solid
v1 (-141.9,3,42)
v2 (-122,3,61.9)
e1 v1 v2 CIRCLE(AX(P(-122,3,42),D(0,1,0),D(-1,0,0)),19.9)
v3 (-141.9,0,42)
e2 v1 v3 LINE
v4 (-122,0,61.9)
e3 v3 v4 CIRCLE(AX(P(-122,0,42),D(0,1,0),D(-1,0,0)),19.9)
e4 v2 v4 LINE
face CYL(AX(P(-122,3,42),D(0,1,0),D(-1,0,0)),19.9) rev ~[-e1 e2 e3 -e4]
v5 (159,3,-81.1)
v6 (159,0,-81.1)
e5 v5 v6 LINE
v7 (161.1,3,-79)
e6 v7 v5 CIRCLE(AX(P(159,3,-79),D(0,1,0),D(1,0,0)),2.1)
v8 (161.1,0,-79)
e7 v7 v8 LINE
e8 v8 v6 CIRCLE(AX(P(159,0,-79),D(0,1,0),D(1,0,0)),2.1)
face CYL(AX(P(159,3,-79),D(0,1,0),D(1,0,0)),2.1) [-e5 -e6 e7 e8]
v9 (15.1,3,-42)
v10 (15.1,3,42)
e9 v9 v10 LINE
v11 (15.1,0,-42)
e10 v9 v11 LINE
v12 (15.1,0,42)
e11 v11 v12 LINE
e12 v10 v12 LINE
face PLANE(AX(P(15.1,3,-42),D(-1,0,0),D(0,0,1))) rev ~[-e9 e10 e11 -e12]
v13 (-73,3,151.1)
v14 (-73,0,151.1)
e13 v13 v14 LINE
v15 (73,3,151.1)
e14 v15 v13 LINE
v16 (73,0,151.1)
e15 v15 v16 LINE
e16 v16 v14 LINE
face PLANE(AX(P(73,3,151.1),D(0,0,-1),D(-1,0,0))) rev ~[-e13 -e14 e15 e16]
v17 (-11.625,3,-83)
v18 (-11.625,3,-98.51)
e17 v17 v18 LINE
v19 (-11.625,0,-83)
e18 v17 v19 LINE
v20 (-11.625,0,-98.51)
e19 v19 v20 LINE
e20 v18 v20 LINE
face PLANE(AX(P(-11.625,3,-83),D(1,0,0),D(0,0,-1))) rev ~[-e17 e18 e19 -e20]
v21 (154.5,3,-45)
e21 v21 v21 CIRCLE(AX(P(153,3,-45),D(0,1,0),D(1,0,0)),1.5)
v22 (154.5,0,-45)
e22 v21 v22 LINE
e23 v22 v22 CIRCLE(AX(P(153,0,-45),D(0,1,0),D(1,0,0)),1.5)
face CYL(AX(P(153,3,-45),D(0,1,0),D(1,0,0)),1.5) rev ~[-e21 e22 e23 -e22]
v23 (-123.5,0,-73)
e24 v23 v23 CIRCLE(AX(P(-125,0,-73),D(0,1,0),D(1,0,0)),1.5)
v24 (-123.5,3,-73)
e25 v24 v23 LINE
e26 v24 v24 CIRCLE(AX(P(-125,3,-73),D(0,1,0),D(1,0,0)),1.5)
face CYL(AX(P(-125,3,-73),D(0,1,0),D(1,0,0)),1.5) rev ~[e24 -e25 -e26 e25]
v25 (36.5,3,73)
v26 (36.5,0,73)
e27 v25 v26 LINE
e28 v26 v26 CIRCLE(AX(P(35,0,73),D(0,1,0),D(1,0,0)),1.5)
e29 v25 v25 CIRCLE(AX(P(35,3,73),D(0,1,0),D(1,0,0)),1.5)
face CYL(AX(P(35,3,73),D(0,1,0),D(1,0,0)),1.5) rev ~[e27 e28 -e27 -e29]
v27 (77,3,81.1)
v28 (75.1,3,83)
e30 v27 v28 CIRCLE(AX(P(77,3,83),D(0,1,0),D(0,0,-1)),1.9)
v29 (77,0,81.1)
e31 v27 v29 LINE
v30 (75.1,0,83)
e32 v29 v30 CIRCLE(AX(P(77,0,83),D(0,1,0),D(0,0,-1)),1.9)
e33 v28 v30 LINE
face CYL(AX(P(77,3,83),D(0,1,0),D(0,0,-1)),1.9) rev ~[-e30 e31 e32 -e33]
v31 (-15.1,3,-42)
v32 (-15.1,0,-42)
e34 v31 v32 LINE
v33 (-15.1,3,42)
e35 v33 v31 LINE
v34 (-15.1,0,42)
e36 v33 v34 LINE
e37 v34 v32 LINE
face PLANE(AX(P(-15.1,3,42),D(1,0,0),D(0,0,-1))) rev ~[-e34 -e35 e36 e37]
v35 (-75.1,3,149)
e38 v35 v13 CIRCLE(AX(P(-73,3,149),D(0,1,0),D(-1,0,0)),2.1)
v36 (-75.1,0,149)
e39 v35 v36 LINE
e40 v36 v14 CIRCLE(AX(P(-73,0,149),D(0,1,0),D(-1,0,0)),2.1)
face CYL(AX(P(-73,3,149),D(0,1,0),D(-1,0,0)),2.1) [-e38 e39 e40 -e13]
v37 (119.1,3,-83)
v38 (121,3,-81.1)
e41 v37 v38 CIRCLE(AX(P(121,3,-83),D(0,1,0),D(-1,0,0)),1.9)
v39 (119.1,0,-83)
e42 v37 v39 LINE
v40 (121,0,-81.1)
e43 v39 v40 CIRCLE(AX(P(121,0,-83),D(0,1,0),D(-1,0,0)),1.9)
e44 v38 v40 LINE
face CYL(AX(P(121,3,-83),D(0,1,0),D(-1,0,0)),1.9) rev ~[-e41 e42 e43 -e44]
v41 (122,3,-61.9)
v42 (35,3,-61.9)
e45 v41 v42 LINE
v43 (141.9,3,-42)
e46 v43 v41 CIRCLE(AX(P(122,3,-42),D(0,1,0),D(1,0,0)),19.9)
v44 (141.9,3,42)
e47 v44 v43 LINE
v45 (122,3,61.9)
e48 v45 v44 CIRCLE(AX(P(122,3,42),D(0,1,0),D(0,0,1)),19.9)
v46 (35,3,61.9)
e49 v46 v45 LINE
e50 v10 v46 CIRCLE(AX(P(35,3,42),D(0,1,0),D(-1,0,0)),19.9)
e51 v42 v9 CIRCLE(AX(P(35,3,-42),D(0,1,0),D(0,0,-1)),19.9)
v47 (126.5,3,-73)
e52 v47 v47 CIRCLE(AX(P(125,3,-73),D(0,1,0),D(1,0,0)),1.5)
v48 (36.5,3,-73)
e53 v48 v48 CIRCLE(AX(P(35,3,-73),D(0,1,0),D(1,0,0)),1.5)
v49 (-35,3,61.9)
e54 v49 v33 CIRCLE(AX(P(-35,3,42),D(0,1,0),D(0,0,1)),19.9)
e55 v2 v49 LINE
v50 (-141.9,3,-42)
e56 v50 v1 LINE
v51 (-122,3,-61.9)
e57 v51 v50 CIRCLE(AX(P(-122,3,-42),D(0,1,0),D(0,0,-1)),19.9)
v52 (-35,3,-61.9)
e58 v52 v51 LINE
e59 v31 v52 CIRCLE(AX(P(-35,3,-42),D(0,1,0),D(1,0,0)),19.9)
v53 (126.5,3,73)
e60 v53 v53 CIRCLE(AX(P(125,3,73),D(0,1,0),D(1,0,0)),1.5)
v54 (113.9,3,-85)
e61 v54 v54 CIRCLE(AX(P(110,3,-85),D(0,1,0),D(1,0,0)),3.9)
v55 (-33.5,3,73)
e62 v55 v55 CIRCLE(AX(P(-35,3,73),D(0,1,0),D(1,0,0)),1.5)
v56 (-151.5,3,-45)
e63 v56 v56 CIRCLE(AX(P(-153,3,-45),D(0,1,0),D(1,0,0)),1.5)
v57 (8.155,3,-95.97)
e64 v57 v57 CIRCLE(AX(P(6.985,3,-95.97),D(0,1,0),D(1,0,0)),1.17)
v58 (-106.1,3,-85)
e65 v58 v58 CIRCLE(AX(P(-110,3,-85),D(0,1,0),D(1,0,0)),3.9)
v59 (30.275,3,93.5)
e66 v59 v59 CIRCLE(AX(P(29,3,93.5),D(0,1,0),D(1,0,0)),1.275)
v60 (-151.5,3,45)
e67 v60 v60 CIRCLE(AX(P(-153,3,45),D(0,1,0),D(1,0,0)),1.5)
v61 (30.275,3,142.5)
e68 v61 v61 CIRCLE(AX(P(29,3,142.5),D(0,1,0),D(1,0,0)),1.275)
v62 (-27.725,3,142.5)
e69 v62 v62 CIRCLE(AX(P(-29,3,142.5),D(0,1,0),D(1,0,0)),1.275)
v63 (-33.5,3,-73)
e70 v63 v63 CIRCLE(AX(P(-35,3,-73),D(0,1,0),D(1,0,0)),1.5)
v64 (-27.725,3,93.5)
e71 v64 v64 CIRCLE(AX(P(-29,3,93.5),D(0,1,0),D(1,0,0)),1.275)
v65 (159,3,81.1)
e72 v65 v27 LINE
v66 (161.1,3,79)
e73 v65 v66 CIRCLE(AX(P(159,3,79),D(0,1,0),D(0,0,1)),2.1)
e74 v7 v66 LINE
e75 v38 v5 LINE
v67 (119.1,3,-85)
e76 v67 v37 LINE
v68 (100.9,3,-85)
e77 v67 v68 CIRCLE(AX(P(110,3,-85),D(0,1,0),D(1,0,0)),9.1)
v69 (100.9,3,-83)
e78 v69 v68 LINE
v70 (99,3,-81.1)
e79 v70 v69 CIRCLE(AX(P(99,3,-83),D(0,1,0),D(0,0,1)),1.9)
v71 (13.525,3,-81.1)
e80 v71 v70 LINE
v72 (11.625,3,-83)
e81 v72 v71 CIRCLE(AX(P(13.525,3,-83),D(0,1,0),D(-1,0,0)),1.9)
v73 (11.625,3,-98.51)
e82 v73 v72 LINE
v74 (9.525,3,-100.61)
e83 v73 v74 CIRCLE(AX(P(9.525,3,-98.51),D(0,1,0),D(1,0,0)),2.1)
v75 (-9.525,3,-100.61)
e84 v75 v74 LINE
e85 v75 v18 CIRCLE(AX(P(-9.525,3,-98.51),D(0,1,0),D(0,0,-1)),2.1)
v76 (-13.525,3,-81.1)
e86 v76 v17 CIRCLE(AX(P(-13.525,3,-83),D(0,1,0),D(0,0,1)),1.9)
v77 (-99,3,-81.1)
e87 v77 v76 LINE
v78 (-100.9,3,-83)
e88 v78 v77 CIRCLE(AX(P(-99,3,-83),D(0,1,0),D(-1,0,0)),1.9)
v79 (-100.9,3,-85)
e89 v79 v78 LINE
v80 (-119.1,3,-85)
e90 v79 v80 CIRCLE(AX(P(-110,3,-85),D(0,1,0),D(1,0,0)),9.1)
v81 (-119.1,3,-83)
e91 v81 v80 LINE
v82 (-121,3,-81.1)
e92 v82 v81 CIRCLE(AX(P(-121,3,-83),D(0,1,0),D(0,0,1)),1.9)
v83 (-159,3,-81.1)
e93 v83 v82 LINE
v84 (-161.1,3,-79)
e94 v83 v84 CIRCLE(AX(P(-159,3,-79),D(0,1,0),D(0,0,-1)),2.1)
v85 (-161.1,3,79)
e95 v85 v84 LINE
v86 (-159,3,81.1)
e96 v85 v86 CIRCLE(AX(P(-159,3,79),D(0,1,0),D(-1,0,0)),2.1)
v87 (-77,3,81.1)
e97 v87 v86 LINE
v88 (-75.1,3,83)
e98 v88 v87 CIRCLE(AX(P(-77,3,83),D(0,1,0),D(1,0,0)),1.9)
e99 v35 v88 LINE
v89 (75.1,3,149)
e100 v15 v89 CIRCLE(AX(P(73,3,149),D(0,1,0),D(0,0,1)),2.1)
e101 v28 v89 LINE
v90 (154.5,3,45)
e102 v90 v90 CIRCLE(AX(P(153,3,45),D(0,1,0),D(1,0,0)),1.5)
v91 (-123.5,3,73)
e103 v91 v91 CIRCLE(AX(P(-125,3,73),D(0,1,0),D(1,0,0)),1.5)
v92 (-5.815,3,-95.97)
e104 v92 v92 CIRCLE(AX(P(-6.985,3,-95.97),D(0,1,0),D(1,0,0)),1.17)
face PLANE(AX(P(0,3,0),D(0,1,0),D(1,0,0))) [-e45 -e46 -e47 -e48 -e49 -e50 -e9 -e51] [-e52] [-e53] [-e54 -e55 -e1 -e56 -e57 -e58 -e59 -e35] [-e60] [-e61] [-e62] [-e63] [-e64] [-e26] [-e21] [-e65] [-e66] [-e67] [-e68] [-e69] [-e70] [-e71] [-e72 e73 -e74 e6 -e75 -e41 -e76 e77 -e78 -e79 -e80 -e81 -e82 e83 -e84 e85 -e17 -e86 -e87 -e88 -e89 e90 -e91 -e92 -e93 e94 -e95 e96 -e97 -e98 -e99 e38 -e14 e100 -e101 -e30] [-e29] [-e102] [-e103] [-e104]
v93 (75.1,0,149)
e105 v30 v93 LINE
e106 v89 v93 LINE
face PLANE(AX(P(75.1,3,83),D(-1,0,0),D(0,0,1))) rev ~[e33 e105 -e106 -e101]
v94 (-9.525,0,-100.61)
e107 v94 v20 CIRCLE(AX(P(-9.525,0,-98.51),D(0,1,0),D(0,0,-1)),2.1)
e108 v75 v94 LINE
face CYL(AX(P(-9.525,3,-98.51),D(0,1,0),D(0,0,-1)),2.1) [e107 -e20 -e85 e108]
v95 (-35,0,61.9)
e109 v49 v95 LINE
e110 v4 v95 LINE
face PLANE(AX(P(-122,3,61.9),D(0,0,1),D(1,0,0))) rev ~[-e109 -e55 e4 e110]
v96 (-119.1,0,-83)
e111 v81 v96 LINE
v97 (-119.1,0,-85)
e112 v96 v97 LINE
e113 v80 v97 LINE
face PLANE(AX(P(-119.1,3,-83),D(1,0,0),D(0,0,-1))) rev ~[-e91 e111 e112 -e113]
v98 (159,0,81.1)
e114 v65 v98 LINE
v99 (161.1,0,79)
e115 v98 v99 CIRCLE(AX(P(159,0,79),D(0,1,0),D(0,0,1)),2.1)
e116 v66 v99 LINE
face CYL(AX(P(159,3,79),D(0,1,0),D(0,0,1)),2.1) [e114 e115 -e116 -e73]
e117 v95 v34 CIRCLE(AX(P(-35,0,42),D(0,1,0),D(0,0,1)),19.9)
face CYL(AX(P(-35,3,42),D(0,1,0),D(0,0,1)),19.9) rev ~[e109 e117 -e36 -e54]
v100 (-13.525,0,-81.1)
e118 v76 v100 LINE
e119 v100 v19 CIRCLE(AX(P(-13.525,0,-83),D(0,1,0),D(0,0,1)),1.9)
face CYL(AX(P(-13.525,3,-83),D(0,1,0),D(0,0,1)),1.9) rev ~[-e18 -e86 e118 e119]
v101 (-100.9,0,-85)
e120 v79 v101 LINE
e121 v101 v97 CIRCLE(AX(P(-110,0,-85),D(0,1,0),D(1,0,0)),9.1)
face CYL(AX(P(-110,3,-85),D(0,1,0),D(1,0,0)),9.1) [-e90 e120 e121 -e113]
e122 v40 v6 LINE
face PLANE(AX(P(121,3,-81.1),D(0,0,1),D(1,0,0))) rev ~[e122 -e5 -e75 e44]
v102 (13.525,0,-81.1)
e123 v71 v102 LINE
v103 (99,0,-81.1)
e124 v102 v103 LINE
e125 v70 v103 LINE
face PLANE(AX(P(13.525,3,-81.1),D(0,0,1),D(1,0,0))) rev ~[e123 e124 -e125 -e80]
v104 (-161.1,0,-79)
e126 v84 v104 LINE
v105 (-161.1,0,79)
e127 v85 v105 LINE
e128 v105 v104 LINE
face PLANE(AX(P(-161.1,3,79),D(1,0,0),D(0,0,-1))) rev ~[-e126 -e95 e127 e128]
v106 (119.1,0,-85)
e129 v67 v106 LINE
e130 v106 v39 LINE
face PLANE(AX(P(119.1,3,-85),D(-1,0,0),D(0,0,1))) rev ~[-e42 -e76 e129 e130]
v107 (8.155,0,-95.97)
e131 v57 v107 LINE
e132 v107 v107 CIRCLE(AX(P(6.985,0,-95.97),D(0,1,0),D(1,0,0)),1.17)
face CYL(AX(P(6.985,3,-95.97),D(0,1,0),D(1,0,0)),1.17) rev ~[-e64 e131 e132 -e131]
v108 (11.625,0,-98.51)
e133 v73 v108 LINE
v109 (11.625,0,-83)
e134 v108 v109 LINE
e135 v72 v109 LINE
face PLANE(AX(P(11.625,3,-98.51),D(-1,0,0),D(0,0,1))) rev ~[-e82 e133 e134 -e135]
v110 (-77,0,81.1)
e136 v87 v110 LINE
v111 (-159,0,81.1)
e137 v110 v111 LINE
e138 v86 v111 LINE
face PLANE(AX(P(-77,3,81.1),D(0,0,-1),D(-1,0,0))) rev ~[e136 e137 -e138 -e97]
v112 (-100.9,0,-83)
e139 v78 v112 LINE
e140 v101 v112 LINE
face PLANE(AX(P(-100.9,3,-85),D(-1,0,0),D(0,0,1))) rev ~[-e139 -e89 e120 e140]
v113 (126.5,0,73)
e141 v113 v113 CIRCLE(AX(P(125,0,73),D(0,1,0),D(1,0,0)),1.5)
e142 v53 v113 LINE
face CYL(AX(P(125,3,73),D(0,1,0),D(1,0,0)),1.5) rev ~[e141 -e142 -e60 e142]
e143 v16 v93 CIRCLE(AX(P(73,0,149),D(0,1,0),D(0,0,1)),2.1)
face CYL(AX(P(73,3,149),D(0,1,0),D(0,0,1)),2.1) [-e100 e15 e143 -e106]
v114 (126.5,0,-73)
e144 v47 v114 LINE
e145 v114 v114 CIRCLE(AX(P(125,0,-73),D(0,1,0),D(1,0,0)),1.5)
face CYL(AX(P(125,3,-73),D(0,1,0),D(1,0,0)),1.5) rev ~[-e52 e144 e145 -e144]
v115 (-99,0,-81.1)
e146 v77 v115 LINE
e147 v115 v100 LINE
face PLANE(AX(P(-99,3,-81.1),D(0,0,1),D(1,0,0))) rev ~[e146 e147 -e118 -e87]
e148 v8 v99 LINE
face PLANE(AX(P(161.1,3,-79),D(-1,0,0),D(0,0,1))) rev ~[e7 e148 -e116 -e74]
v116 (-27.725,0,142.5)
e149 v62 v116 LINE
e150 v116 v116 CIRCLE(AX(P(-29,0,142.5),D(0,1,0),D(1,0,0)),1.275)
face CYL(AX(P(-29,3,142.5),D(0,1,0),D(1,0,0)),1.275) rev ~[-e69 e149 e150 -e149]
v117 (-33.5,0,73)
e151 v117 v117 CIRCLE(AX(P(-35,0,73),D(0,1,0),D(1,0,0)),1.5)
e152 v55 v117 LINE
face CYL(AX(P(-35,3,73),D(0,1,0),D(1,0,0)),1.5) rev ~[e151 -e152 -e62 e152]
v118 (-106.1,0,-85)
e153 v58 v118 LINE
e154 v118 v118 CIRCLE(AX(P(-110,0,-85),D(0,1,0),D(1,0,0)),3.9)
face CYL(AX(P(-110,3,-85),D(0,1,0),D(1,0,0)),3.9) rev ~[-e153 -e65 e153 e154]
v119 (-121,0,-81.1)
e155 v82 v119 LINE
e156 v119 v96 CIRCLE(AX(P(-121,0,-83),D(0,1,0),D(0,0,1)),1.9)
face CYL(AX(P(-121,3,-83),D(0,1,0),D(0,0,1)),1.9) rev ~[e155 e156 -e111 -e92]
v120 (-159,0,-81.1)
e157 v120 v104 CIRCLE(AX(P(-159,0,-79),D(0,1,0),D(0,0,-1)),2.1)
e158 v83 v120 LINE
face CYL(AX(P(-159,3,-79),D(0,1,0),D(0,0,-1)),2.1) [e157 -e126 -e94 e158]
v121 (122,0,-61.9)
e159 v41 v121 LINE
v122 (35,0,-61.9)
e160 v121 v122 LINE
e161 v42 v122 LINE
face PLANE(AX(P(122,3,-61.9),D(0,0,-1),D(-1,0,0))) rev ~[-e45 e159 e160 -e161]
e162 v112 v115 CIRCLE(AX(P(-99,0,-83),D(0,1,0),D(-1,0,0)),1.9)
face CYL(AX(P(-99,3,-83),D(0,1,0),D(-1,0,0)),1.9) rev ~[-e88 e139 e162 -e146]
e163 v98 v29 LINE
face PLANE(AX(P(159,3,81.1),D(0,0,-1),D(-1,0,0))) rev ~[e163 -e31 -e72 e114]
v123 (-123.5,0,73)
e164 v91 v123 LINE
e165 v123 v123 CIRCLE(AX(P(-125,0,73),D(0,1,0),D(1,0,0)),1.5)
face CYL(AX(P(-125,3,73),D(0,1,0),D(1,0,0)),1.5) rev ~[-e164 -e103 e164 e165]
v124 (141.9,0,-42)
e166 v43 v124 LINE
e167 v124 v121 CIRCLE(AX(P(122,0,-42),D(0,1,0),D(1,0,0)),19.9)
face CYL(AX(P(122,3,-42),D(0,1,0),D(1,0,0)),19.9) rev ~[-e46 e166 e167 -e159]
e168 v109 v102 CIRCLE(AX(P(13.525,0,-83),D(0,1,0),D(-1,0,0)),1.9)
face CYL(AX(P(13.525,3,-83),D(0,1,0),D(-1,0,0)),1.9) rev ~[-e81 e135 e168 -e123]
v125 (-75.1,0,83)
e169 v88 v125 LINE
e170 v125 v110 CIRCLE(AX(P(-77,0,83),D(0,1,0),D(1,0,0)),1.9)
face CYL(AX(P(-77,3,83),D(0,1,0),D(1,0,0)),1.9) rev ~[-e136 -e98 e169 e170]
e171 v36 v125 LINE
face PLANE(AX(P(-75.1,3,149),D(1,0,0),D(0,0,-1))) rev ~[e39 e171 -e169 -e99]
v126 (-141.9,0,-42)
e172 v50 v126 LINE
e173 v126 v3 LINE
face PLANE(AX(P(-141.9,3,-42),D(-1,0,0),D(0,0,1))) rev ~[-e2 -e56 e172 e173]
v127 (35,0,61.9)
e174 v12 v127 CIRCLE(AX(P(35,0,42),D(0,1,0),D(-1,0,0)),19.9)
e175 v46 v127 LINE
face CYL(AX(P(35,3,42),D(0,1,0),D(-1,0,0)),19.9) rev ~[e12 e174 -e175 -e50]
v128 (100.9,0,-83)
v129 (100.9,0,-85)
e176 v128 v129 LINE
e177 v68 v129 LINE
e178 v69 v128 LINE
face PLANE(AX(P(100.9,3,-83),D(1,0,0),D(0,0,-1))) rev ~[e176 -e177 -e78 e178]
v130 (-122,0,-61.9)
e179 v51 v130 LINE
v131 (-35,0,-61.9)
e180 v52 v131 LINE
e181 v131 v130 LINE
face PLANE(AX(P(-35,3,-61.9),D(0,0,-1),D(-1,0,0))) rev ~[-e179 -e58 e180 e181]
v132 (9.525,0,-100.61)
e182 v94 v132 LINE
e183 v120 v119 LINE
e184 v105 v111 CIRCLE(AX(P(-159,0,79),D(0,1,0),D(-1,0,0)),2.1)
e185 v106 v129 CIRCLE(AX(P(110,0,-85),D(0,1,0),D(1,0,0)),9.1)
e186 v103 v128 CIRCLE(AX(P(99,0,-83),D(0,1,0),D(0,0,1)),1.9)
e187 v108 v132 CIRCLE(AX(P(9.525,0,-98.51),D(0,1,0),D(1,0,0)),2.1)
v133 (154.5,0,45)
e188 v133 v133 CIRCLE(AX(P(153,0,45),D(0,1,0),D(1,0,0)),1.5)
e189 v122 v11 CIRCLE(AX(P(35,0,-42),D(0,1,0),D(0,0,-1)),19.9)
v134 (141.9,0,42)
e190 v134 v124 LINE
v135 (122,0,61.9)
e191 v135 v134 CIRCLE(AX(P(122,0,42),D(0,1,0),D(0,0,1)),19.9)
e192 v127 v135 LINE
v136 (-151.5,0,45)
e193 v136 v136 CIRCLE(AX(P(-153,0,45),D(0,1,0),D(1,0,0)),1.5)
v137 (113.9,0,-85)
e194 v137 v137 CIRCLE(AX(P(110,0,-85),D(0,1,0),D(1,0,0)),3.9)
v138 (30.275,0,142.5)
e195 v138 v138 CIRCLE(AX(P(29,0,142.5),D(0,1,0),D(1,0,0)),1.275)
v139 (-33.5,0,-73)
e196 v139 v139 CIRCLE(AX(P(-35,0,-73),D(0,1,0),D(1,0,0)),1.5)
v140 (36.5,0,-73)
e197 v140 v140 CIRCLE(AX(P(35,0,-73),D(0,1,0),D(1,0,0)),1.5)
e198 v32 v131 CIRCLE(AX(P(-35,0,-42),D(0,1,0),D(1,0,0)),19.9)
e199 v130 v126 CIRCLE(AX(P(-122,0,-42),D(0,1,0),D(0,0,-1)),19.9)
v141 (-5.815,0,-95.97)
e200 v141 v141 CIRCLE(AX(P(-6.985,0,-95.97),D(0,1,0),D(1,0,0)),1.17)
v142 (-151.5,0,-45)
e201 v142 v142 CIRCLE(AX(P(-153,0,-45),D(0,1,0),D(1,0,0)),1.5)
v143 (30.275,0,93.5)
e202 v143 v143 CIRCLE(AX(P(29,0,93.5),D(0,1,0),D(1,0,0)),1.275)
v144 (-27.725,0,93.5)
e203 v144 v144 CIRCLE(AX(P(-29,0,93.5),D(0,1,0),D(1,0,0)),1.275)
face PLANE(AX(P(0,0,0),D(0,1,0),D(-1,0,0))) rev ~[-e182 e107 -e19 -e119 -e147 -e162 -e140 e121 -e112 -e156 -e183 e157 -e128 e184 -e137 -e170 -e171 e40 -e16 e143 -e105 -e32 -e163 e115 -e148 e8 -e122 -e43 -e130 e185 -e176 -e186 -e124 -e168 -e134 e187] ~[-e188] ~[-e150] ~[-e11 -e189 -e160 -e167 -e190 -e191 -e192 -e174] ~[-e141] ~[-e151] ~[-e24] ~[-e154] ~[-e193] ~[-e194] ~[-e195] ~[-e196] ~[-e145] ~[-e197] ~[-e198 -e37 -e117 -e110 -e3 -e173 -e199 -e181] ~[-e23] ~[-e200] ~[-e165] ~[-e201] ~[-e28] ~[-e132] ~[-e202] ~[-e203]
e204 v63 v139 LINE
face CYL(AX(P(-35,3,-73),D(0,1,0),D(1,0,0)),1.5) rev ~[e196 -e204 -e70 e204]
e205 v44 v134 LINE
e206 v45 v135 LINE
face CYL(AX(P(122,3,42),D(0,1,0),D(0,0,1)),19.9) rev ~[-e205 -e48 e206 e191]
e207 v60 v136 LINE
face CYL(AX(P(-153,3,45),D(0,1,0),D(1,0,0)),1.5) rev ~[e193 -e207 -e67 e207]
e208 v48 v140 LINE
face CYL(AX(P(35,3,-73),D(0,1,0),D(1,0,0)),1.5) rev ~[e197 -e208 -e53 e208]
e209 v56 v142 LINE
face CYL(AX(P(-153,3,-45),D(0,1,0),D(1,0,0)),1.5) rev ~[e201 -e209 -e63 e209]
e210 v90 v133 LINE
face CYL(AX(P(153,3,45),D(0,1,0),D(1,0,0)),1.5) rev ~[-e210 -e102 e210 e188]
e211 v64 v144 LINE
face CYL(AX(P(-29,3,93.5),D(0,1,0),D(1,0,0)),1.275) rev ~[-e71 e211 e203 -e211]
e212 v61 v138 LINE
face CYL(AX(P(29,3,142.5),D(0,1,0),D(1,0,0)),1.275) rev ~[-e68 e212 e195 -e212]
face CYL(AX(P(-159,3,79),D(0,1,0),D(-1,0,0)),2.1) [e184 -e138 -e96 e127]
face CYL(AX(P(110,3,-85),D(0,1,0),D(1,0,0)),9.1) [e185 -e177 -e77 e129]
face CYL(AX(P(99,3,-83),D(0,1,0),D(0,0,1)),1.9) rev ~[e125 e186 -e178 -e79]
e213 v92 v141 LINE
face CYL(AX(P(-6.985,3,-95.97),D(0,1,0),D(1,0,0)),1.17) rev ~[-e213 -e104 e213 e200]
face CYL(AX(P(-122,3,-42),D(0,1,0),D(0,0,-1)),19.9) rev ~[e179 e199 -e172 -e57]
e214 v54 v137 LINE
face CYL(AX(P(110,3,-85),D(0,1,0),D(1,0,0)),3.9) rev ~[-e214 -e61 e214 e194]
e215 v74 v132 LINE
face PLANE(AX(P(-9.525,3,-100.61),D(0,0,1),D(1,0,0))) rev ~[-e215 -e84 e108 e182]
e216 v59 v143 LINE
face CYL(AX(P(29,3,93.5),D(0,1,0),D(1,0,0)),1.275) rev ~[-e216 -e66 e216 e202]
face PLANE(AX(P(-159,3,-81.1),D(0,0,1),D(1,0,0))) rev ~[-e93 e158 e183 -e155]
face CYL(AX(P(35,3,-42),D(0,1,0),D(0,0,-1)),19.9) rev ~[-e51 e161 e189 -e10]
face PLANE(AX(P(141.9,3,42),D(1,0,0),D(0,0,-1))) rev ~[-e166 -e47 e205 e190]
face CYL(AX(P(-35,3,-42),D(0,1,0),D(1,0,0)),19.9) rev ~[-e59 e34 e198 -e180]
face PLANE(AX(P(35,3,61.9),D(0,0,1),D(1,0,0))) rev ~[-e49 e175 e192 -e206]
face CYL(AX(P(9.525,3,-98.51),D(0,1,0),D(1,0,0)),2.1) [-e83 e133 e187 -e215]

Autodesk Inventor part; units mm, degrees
ref_plane "YZ Plane" through (0, 0, 0) normal (1, 0, 0) x (0, 1, 0)
ref_plane "XZ Plane" through (0, 0, 0) normal (0, 1, 0) x (-1, 0, 0)
ref_plane "XY Plane" through (0, 0, 0) normal (0, 0, 1) x (1, 0, 0)
sketch "Sketch1" plane through (0, 0, 0) normal (0, 1, 0) x (-1, 0, 0)
  line L0 (159, -79) -> (-159, -79) construction
  line L1 (-159, -79) -> (-159, 79) construction
  line L2 (-159, 79) -> (159, 79) construction
  line L3 (159, 79) -> (159, -79) construction
  line L4 (153, -73) -> (-153, -73) construction
  line L5 (-153, -73) -> (-153, 73) construction
  line L6 (-153, 73) -> (153, 73) construction
  line L7 (153, 73) -> (153, -73) construction
  circle A0 centre (153, -45) radius 1.6
  circle A1 centre (153, 45) radius 1.6
  circle A2 centre (125, -73) radius 1.6
  circle A3 centre (35, -73) radius 1.6
  circle A4 centre (-35, -73) radius 1.6
  circle A5 centre (-125, -73) radius 1.6
  circle A6 centre (-153, -45) radius 1.6
  circle A7 centre (-153, 45) radius 1.6
  circle A8 centre (125, 73) radius 1.6
  circle A9 centre (35, 73) radius 1.6
  circle A10 centre (-35, 73) radius 1.6
  circle A11 centre (-125, 73) radius 1.6
  line L8 (52.5, 90) -> (-32.5, 90) construction
  line L9 (-32.5, 90) -> (-32.5, 146) construction
  line L10 (-32.5, 146) -> (52.5, 146) construction
  line L11 (52.5, 146) -> (52.5, 90) construction
  circle A12 centre (29, 93.5) radius 1.375
  circle A13 centre (-29, 93.5) radius 1.375
  circle A14 centre (-29, 142.5) radius 1.375
  circle A15 centre (29, 142.5) radius 1.375
  line L12 (104.3189, 118) -> (-116.6862, 118) construction
  circle A16 centre (110, -85) radius 4
  circle A17 centre (-110, -85) radius 4
  arc A18 (101, -85) -> (119, -85) centre (110, -85) ccw
  arc A19 (-119, -85) -> (-101, -85) centre (-110, -85) ccw
  line L13 (99, -81) -> (13.525, -81)
  line L14 (101, -83) -> (101, -85)
  line L15 (-101, -83) -> (-101, -85)
  line L16 (159, -81) -> (121, -81)
  line L17 (119, -83) -> (119, -85)
  line L18 (-159, -81) -> (-121, -81)
  line L19 (-119, -83) -> (-119, -85)
  line L20 (161, -79) -> (161, 79)
  line L21 (159, 81) -> (77, 81)
  line L22 (75, 83) -> (75, 149)
  line L23 (73, 151) -> (-73, 151)
  line L24 (-75, 149) -> (-75, 83)
  line L25 (-77, 81) -> (-159, 81)
  line L26 (-161, 79) -> (-161, -79)
  arc A20 (121, -81) -> (119, -83) centre (121, -83) ccw
  arc A21 (159, -81) -> (161, -79) centre (159, -79) ccw
  arc A22 (161, 79) -> (159, 81) centre (159, 79) ccw
  arc A23 (75, 83) -> (77, 81) centre (77, 83) ccw
  arc A24 (75, 149) -> (73, 151) centre (73, 149) ccw
  arc A25 (-73, 151) -> (-75, 149) centre (-73, 149) ccw
  arc A26 (-77, 81) -> (-75, 83) centre (-77, 83) ccw
  arc A27 (-159, 81) -> (-161, 79) centre (-159, 79) ccw
  arc A28 (-161, -79) -> (-159, -81) centre (-159, -79) ccw
  arc A29 (-119, -83) -> (-121, -81) centre (-121, -83) ccw
  arc A30 (-99, -81) -> (-101, -83) centre (-99, -83) ccw
  arc A31 (101, -83) -> (99, -81) centre (99, -83) ccw
  line L27 (122, -62) -> (35, -62)
  line L28 (15, -42) -> (15, 42)
  line L29 (35, 62) -> (122, 62)
  line L30 (142, 42) -> (142, -42)
  line L31 (-35, -62) -> (-122, -62)
  line L32 (-142, -42) -> (-142, 42)
  line L33 (-122, 62) -> (-35, 62)
  line L34 (-15, 42) -> (-15, -42)
  arc A32 (122, -62) -> (142, -42) centre (122, -42) ccw
  arc A33 (142, 42) -> (122, 62) centre (122, 42) ccw
  arc A34 (35, 62) -> (15, 42) centre (35, 42) ccw
  arc A35 (15, -42) -> (35, -62) centre (35, -42) ccw
  arc A36 (-35, -62) -> (-15, -42) centre (-35, -42) ccw
  arc A37 (-142, -42) -> (-122, -62) centre (-122, -42) ccw
  arc A38 (-122, 62) -> (-142, 42) centre (-122, 42) ccw
  arc A39 (-15, 42) -> (-35, 62) centre (-35, 42) ccw
  line L35 (11.525, -83) -> (11.525, -98.51)
  line L36 (9.525, -100.51) -> (-9.525, -100.51)
  line L37 (-11.525, -98.51) -> (-11.525, -83)
  line L38 (-13.525, -81) -> (-99, -81)
  line L39 (9.525, -98.51) -> (-9.525, -98.51) construction
  line L40 (-9.525, -98.51) -> (-9.525, -82) construction
  line L41 (-9.525, -82) -> (9.525, -82) construction
  line L42 (9.525, -82) -> (9.525, -98.51) construction
  circle A40 centre (6.985, -95.97) radius 1.27
  circle A41 centre (-6.985, -95.97) radius 1.27
  line L43 (6.985, -95.97) -> (-6.985, -95.97) construction
  arc A42 (13.525, -81) -> (11.525, -83) centre (13.525, -83) ccw
  arc A43 (9.525, -100.51) -> (11.525, -98.51) centre (9.525, -98.51) ccw
  arc A44 (-11.525, -98.51) -> (-9.525, -100.51) centre (-9.525, -98.51) ccw
  arc A45 (-11.525, -83) -> (-13.525, -81) centre (-13.525, -83) ccw
  point P0 (0, 0)
  point P1 (0, -79)
  point P2 (159, 0)
  point P3 (0, -73)
  point P4 (153, 0)
  point P5 (52.5, 118)
  point P6 (75, 151)
  point P7 (-75, 151)
  point P8 (0, 151)
  point P9 (0, -82)
  point P10 (0, -100.51)
  point P11 (0, -95.97)
  dimension "d0" = 318
  dimension "d1" = 158
  dimension "d2" = 6
  dimension "d3" = 6
  dimension "d4" = 70
  dimension "d5" = 35
  dimension "d6" = 90
  dimension "d7" = 90
  dimension "d8" = 90
  dimension "d9" = 45
  dimension "d10" = 3.2
  dimension "d11" = 85
  dimension "d12" = 56
  dimension "d13" = 3.5
  dimension "d14" = 2.75
  dimension "d15" = 3.5
  dimension "d16" = 58
  dimension "d17" = 49
  dimension "d18" = 118
  dimension "d19" = 220
  dimension "d20" = 110
  dimension "d21" = 8
  dimension "d22" = 85
  dimension "d23" = 18
  dimension "d24" = 2
  dimension "d25" = 2
  dimension "d26" = 2
  dimension "d27" = 2
  dimension "d28" = 150
  dimension "d29" = 5
  dimension "d30" = 2
  dimension "d31" = 11
  dimension "d32" = 11
  dimension "d33" = 11
  dimension "d34" = 11
  dimension "d35" = 30
  dimension "d36" = 15
  dimension "d37" = 20
  dimension "d40" = 29
  dimension "d65" = 19.05
  dimension "d66" = 16.51
  dimension "d67" = 2.54
  dimension "d68" = 2
  dimension "d69" = 2
  dimension "d70" = 2
  dimension "d71" = 2.54
  dimension "d73" = 13.97
  dimension "d74" = 3
extrude "Extrusion1" add sketch "Sketch1" along normal blind 3
sketch "Sketch3" plane through (0, 3, 0) normal (0, 1, 0) x (1, 0, 0)
  arc A0 (142, 42) -> (122, 62) centre (122, 42) ccw projected
  line L0 (142, 42) -> (142, -42) projected
  arc A1 (122, -62) -> (142, -42) centre (122, -42) ccw projected
  line L1 (122, -62) -> (35, -62) projected
  arc A2 (15, -42) -> (35, -62) centre (35, -42) ccw projected
  line L2 (15, -42) -> (15, 42) projected
  arc A3 (35, 62) -> (15, 42) centre (35, 42) ccw projected
  line L3 (35, 62) -> (122, 62) projected
  arc A4 (-122, 62) -> (-142, 42) centre (-122, 42) ccw projected
  line L4 (-122, 62) -> (-35, 62) projected
  arc A5 (-15, 42) -> (-35, 62) centre (-35, 42) ccw projected
  line L5 (-15, 42) -> (-15, -42) projected
  arc A6 (-35, -62) -> (-15, -42) centre (-35, -42) ccw projected
  line L6 (-35, -62) -> (-122, -62) projected
  arc A7 (-142, -42) -> (-122, -62) centre (-122, -42) ccw projected
  line L7 (-142, -42) -> (-142, 42) projected
  circle A8 centre (110, 85) radius 4 projected
  circle A9 centre (-110, 85) radius 4 projected
  circle A10 centre (125, -73) radius 1.6 projected
  circle A11 centre (35, -73) radius 1.6 projected
  circle A12 centre (-35, -73) radius 1.6 projected
  circle A13 centre (-125, -73) radius 1.6 projected
  circle A14 centre (153, -45) radius 1.6 projected
  circle A15 centre (153, 45) radius 1.6 projected
  circle A16 centre (125, 73) radius 1.6 projected
  circle A17 centre (35, 73) radius 1.6 projected
  circle A18 centre (-35, 73) radius 1.6 projected
  circle A19 centre (-125, 73) radius 1.6 projected
  circle A20 centre (-153, -45) radius 1.6 projected
  circle A21 centre (-153, 45) radius 1.6 projected
  circle A22 centre (-29, -142.5) radius 1.375 projected
  circle A23 centre (29, -142.5) radius 1.375 projected
  circle A24 centre (29, -93.5) radius 1.375 projected
  circle A25 centre (-29, -93.5) radius 1.375 projected
  line L8 (-101, 83) -> (-101, 85) projected
  arc A26 (-101, 85) -> (-119, 85) centre (-110, 85) ccw projected
  line L9 (-119, 85) -> (-119, 83) projected
  arc A27 (-121, 81) -> (-119, 83) centre (-121, 83) ccw projected
  line L10 (-121, 81) -> (-159, 81) projected
  arc A28 (-159, 81) -> (-161, 79) centre (-159, 79) ccw projected
  line L11 (-161, 79) -> (-161, -79) projected
  arc A29 (-161, -79) -> (-159, -81) centre (-159, -79) ccw projected
  line L12 (-159, -81) -> (-77, -81) projected
  arc A30 (-75, -83) -> (-77, -81) centre (-77, -83) ccw projected
  line L13 (-75, -83) -> (-75, -149) projected
  arc A31 (-75, -149) -> (-73, -151) centre (-73, -149) ccw projected
  line L14 (-73, -151) -> (73, -151) projected
  arc A32 (73, -151) -> (75, -149) centre (73, -149) ccw projected
  line L15 (75, -149) -> (75, -83) projected
  arc A33 (77, -81) -> (75, -83) centre (77, -83) ccw projected
  line L16 (77, -81) -> (159, -81) projected
  arc A34 (159, -81) -> (161, -79) centre (159, -79) ccw projected
  line L17 (161, -79) -> (161, 79) projected
  arc A35 (161, 79) -> (159, 81) centre (159, 79) ccw projected
  line L18 (159, 81) -> (121, 81) projected
  arc A36 (119, 83) -> (121, 81) centre (121, 83) ccw projected
  line L19 (119, 83) -> (119, 85) projected
  arc A37 (119, 85) -> (101, 85) centre (110, 85) ccw projected
  line L20 (101, 85) -> (101, 83) projected
  arc A38 (99, 81) -> (101, 83) centre (99, 83) ccw projected
  line L21 (99, 81) -> (13.525, 81) projected
  arc A39 (11.525, 83) -> (13.525, 81) centre (13.525, 83) ccw projected
  line L22 (11.525, 83) -> (11.525, 98.51) projected
  arc A40 (11.525, 98.51) -> (9.525, 100.51) centre (9.525, 98.51) ccw projected
  line L23 (9.525, 100.51) -> (-9.525, 100.51) projected
  arc A41 (-9.525, 100.51) -> (-11.525, 98.51) centre (-9.525, 98.51) ccw projected
  line L24 (-11.525, 98.51) -> (-11.525, 83) projected
  arc A42 (-13.525, 81) -> (-11.525, 83) centre (-13.525, 83) ccw projected
  line L25 (-13.525, 81) -> (-99, 81) projected
  arc A43 (-101, 83) -> (-99, 81) centre (-99, 83) ccw projected
  line L26 (-159, 81.1) -> (-121, 81.1)
  arc A44 (-121, 81.1) -> (-119.1, 83) centre (-121, 83) ccw
  line L27 (-119.1, 83) -> (-119.1, 85)
  arc A45 (-100.9, 85) -> (-119.1, 85) centre (-110, 85) ccw
  line L28 (-100.9, 85) -> (-100.9, 83)
  arc A46 (-100.9, 83) -> (-99, 81.1) centre (-99, 83) ccw
  line L29 (-99, 81.1) -> (-13.525, 81.1)
  arc A47 (-13.525, 81.1) -> (-11.625, 83) centre (-13.525, 83) ccw
  line L30 (-11.625, 83) -> (-11.625, 98.51)
  arc A48 (-9.525, 100.61) -> (-11.625, 98.51) centre (-9.525, 98.51) ccw
  line L31 (-9.525, 100.61) -> (9.525, 100.61)
  arc A49 (11.625, 98.51) -> (9.525, 100.61) centre (9.525, 98.51) ccw
  line L32 (11.625, 98.51) -> (11.625, 83)
  arc A50 (11.625, 83) -> (13.525, 81.1) centre (13.525, 83) ccw
  line L33 (13.525, 81.1) -> (99, 81.1)
  arc A51 (99, 81.1) -> (100.9, 83) centre (99, 83) ccw
  line L34 (100.9, 83) -> (100.9, 85)
  arc A52 (119.1, 85) -> (100.9, 85) centre (110, 85) ccw
  line L35 (119.1, 85) -> (119.1, 83)
  arc A53 (119.1, 83) -> (121, 81.1) centre (121, 83) ccw
  line L36 (121, 81.1) -> (159, 81.1)
  arc A54 (161.1, 79) -> (159, 81.1) centre (159, 79) ccw
  line L37 (161.1, 79) -> (161.1, -79)
  arc A55 (159, -81.1) -> (161.1, -79) centre (159, -79) ccw
  line L38 (159, -81.1) -> (77, -81.1)
  arc A56 (77, -81.1) -> (75.1, -83) centre (77, -83) ccw
  line L39 (75.1, -83) -> (75.1, -149)
  arc A57 (73, -151.1) -> (75.1, -149) centre (73, -149) ccw
  line L40 (73, -151.1) -> (-73, -151.1)
  arc A58 (-75.1, -149) -> (-73, -151.1) centre (-73, -149) ccw
  line L41 (-75.1, -149) -> (-75.1, -83)
  arc A59 (-75.1, -83) -> (-77, -81.1) centre (-77, -83) ccw
  line L42 (-77, -81.1) -> (-159, -81.1)
  arc A60 (-161.1, -79) -> (-159, -81.1) centre (-159, -79) ccw
  line L43 (-161.1, -79) -> (-161.1, 79)
  arc A61 (-159, 81.1) -> (-161.1, 79) centre (-159, 79) ccw
  circle A62 centre (-6.985, 95.97) radius 1.27 projected
  circle A63 centre (6.985, 95.97) radius 1.27 projected
  circle A64 centre (-6.985, 95.97) radius 1.17
  circle A65 centre (6.985, 95.97) radius 1.17
  circle A66 centre (-35, 73) radius 1.5
  line L44 (-35, 61.9) -> (-122, 61.9)
  arc A67 (-122, 61.9) -> (-141.9, 42) centre (-122, 42) ccw
  line L45 (-141.9, 42) -> (-141.9, -42)
  arc A68 (-141.9, -42) -> (-122, -61.9) centre (-122, -42) ccw
  line L46 (-122, -61.9) -> (-35, -61.9)
  arc A69 (-35, -61.9) -> (-15.1, -42) centre (-35, -42) ccw
  line L47 (-15.1, -42) -> (-15.1, 42)
  arc A70 (-15.1, 42) -> (-35, 61.9) centre (-35, 42) ccw
  circle A71 centre (-110, 85) radius 3.9
  circle A72 centre (-125, 73) radius 1.5
  circle A73 centre (-153, 45) radius 1.5
  circle A74 centre (-153, -45) radius 1.5
  circle A75 centre (-125, -73) radius 1.5
  circle A76 centre (-35, -73) radius 1.5
  circle A77 centre (-29, -93.5) radius 1.275
  circle A78 centre (-29, -142.5) radius 1.275
  circle A79 centre (29, -142.5) radius 1.275
  circle A80 centre (29, -93.5) radius 1.275
  line L48 (35, -61.9) -> (122, -61.9)
  arc A81 (122, -61.9) -> (141.9, -42) centre (122, -42) ccw
  line L49 (141.9, -42) -> (141.9, 42)
  arc A82 (141.9, 42) -> (122, 61.9) centre (122, 42) ccw
  line L50 (122, 61.9) -> (35, 61.9)
  arc A83 (35, 61.9) -> (15.1, 42) centre (35, 42) ccw
  line L51 (15.1, 42) -> (15.1, -42)
  arc A84 (15.1, -42) -> (35, -61.9) centre (35, -42) ccw
  circle A85 centre (35, -73) radius 1.5
  circle A86 centre (125, -73) radius 1.5
  circle A87 centre (153, -45) radius 1.5
  circle A88 centre (153, 45) radius 1.5
  circle A89 centre (125, 73) radius 1.5
  circle A90 centre (110, 85) radius 3.9
  circle A91 centre (35, 73) radius 1.5
  circle A92 centre (35, 73) radius 1.6 projected
  point P0 (0, 0)
  dimension "d75" = 0.1
  dimension "d76" = 0.1
  dimension "d77" = 0.1
  dimension "d78" = 0.1
  dimension "d79" = 0.1
  dimension "d80" = 0.1
  dimension "d81" = 0.1
  dimension "d82" = 0.1
  dimension "d83" = 0.1
  dimension "d84" = 0.1
  dimension "d85" = 0.1
  dimension "d86" = 0.1
  dimension "d87" = 0.1
  dimension "d88" = 0.1
  dimension "d89" = 0.1
  dimension "d90" = 0.1
  dimension "d91" = 0.1
  dimension "d92" = 0.1
  dimension "d93" = 0.1
  dimension "d94" = 0.1
  dimension "d95" = 0.1
  dimension "d96" = 0.1
  dimension "d97" = 0.1
extrude "Extrusion3" add sketch "Sketch3" against normal up to surface (3 mm away)
equation "\"d5\" = 0.5 * d4"
equation "\"d7\" = d6"
equation "\"d9\" = 0.5 * d8"
equation "\"d20\" = 0.5 * d19"
equation "\"d25\" = d24"
equation "\"d26\" = d25"
equation "\"d27\" = d24"
equation "\"d32\" = d31"
equation "\"d33\" = d31"
equation "\"d34\" = d31"
equation "\"d36\" = 0.5 * d35"
equation "\"d40\" = 0.5 * d16"
equation "\"d68\" = d24"
equation "\"d69\" = d24"
equation "\"d70\" = d30"
equation "\"d75\" = 0.5 * kerf"
equation "\"d76\" = 0.5 * kerf"
equation "\"d77\" = 0.5 * kerf"
equation "\"d78\" = 0.5 * kerf"
equation "\"d79\" = 0.5 * kerf"
equation "\"d80\" = 0.5 * kerf"
equation "\"d81\" = 0.5 * kerf"
equation "\"d82\" = 0.5 * kerf"
equation "\"d83\" = 0.5 * kerf"
equation "\"d84\" = 0.5 * kerf"
equation "\"kerf\" = 0.2"
properties part number "MountPlate"
